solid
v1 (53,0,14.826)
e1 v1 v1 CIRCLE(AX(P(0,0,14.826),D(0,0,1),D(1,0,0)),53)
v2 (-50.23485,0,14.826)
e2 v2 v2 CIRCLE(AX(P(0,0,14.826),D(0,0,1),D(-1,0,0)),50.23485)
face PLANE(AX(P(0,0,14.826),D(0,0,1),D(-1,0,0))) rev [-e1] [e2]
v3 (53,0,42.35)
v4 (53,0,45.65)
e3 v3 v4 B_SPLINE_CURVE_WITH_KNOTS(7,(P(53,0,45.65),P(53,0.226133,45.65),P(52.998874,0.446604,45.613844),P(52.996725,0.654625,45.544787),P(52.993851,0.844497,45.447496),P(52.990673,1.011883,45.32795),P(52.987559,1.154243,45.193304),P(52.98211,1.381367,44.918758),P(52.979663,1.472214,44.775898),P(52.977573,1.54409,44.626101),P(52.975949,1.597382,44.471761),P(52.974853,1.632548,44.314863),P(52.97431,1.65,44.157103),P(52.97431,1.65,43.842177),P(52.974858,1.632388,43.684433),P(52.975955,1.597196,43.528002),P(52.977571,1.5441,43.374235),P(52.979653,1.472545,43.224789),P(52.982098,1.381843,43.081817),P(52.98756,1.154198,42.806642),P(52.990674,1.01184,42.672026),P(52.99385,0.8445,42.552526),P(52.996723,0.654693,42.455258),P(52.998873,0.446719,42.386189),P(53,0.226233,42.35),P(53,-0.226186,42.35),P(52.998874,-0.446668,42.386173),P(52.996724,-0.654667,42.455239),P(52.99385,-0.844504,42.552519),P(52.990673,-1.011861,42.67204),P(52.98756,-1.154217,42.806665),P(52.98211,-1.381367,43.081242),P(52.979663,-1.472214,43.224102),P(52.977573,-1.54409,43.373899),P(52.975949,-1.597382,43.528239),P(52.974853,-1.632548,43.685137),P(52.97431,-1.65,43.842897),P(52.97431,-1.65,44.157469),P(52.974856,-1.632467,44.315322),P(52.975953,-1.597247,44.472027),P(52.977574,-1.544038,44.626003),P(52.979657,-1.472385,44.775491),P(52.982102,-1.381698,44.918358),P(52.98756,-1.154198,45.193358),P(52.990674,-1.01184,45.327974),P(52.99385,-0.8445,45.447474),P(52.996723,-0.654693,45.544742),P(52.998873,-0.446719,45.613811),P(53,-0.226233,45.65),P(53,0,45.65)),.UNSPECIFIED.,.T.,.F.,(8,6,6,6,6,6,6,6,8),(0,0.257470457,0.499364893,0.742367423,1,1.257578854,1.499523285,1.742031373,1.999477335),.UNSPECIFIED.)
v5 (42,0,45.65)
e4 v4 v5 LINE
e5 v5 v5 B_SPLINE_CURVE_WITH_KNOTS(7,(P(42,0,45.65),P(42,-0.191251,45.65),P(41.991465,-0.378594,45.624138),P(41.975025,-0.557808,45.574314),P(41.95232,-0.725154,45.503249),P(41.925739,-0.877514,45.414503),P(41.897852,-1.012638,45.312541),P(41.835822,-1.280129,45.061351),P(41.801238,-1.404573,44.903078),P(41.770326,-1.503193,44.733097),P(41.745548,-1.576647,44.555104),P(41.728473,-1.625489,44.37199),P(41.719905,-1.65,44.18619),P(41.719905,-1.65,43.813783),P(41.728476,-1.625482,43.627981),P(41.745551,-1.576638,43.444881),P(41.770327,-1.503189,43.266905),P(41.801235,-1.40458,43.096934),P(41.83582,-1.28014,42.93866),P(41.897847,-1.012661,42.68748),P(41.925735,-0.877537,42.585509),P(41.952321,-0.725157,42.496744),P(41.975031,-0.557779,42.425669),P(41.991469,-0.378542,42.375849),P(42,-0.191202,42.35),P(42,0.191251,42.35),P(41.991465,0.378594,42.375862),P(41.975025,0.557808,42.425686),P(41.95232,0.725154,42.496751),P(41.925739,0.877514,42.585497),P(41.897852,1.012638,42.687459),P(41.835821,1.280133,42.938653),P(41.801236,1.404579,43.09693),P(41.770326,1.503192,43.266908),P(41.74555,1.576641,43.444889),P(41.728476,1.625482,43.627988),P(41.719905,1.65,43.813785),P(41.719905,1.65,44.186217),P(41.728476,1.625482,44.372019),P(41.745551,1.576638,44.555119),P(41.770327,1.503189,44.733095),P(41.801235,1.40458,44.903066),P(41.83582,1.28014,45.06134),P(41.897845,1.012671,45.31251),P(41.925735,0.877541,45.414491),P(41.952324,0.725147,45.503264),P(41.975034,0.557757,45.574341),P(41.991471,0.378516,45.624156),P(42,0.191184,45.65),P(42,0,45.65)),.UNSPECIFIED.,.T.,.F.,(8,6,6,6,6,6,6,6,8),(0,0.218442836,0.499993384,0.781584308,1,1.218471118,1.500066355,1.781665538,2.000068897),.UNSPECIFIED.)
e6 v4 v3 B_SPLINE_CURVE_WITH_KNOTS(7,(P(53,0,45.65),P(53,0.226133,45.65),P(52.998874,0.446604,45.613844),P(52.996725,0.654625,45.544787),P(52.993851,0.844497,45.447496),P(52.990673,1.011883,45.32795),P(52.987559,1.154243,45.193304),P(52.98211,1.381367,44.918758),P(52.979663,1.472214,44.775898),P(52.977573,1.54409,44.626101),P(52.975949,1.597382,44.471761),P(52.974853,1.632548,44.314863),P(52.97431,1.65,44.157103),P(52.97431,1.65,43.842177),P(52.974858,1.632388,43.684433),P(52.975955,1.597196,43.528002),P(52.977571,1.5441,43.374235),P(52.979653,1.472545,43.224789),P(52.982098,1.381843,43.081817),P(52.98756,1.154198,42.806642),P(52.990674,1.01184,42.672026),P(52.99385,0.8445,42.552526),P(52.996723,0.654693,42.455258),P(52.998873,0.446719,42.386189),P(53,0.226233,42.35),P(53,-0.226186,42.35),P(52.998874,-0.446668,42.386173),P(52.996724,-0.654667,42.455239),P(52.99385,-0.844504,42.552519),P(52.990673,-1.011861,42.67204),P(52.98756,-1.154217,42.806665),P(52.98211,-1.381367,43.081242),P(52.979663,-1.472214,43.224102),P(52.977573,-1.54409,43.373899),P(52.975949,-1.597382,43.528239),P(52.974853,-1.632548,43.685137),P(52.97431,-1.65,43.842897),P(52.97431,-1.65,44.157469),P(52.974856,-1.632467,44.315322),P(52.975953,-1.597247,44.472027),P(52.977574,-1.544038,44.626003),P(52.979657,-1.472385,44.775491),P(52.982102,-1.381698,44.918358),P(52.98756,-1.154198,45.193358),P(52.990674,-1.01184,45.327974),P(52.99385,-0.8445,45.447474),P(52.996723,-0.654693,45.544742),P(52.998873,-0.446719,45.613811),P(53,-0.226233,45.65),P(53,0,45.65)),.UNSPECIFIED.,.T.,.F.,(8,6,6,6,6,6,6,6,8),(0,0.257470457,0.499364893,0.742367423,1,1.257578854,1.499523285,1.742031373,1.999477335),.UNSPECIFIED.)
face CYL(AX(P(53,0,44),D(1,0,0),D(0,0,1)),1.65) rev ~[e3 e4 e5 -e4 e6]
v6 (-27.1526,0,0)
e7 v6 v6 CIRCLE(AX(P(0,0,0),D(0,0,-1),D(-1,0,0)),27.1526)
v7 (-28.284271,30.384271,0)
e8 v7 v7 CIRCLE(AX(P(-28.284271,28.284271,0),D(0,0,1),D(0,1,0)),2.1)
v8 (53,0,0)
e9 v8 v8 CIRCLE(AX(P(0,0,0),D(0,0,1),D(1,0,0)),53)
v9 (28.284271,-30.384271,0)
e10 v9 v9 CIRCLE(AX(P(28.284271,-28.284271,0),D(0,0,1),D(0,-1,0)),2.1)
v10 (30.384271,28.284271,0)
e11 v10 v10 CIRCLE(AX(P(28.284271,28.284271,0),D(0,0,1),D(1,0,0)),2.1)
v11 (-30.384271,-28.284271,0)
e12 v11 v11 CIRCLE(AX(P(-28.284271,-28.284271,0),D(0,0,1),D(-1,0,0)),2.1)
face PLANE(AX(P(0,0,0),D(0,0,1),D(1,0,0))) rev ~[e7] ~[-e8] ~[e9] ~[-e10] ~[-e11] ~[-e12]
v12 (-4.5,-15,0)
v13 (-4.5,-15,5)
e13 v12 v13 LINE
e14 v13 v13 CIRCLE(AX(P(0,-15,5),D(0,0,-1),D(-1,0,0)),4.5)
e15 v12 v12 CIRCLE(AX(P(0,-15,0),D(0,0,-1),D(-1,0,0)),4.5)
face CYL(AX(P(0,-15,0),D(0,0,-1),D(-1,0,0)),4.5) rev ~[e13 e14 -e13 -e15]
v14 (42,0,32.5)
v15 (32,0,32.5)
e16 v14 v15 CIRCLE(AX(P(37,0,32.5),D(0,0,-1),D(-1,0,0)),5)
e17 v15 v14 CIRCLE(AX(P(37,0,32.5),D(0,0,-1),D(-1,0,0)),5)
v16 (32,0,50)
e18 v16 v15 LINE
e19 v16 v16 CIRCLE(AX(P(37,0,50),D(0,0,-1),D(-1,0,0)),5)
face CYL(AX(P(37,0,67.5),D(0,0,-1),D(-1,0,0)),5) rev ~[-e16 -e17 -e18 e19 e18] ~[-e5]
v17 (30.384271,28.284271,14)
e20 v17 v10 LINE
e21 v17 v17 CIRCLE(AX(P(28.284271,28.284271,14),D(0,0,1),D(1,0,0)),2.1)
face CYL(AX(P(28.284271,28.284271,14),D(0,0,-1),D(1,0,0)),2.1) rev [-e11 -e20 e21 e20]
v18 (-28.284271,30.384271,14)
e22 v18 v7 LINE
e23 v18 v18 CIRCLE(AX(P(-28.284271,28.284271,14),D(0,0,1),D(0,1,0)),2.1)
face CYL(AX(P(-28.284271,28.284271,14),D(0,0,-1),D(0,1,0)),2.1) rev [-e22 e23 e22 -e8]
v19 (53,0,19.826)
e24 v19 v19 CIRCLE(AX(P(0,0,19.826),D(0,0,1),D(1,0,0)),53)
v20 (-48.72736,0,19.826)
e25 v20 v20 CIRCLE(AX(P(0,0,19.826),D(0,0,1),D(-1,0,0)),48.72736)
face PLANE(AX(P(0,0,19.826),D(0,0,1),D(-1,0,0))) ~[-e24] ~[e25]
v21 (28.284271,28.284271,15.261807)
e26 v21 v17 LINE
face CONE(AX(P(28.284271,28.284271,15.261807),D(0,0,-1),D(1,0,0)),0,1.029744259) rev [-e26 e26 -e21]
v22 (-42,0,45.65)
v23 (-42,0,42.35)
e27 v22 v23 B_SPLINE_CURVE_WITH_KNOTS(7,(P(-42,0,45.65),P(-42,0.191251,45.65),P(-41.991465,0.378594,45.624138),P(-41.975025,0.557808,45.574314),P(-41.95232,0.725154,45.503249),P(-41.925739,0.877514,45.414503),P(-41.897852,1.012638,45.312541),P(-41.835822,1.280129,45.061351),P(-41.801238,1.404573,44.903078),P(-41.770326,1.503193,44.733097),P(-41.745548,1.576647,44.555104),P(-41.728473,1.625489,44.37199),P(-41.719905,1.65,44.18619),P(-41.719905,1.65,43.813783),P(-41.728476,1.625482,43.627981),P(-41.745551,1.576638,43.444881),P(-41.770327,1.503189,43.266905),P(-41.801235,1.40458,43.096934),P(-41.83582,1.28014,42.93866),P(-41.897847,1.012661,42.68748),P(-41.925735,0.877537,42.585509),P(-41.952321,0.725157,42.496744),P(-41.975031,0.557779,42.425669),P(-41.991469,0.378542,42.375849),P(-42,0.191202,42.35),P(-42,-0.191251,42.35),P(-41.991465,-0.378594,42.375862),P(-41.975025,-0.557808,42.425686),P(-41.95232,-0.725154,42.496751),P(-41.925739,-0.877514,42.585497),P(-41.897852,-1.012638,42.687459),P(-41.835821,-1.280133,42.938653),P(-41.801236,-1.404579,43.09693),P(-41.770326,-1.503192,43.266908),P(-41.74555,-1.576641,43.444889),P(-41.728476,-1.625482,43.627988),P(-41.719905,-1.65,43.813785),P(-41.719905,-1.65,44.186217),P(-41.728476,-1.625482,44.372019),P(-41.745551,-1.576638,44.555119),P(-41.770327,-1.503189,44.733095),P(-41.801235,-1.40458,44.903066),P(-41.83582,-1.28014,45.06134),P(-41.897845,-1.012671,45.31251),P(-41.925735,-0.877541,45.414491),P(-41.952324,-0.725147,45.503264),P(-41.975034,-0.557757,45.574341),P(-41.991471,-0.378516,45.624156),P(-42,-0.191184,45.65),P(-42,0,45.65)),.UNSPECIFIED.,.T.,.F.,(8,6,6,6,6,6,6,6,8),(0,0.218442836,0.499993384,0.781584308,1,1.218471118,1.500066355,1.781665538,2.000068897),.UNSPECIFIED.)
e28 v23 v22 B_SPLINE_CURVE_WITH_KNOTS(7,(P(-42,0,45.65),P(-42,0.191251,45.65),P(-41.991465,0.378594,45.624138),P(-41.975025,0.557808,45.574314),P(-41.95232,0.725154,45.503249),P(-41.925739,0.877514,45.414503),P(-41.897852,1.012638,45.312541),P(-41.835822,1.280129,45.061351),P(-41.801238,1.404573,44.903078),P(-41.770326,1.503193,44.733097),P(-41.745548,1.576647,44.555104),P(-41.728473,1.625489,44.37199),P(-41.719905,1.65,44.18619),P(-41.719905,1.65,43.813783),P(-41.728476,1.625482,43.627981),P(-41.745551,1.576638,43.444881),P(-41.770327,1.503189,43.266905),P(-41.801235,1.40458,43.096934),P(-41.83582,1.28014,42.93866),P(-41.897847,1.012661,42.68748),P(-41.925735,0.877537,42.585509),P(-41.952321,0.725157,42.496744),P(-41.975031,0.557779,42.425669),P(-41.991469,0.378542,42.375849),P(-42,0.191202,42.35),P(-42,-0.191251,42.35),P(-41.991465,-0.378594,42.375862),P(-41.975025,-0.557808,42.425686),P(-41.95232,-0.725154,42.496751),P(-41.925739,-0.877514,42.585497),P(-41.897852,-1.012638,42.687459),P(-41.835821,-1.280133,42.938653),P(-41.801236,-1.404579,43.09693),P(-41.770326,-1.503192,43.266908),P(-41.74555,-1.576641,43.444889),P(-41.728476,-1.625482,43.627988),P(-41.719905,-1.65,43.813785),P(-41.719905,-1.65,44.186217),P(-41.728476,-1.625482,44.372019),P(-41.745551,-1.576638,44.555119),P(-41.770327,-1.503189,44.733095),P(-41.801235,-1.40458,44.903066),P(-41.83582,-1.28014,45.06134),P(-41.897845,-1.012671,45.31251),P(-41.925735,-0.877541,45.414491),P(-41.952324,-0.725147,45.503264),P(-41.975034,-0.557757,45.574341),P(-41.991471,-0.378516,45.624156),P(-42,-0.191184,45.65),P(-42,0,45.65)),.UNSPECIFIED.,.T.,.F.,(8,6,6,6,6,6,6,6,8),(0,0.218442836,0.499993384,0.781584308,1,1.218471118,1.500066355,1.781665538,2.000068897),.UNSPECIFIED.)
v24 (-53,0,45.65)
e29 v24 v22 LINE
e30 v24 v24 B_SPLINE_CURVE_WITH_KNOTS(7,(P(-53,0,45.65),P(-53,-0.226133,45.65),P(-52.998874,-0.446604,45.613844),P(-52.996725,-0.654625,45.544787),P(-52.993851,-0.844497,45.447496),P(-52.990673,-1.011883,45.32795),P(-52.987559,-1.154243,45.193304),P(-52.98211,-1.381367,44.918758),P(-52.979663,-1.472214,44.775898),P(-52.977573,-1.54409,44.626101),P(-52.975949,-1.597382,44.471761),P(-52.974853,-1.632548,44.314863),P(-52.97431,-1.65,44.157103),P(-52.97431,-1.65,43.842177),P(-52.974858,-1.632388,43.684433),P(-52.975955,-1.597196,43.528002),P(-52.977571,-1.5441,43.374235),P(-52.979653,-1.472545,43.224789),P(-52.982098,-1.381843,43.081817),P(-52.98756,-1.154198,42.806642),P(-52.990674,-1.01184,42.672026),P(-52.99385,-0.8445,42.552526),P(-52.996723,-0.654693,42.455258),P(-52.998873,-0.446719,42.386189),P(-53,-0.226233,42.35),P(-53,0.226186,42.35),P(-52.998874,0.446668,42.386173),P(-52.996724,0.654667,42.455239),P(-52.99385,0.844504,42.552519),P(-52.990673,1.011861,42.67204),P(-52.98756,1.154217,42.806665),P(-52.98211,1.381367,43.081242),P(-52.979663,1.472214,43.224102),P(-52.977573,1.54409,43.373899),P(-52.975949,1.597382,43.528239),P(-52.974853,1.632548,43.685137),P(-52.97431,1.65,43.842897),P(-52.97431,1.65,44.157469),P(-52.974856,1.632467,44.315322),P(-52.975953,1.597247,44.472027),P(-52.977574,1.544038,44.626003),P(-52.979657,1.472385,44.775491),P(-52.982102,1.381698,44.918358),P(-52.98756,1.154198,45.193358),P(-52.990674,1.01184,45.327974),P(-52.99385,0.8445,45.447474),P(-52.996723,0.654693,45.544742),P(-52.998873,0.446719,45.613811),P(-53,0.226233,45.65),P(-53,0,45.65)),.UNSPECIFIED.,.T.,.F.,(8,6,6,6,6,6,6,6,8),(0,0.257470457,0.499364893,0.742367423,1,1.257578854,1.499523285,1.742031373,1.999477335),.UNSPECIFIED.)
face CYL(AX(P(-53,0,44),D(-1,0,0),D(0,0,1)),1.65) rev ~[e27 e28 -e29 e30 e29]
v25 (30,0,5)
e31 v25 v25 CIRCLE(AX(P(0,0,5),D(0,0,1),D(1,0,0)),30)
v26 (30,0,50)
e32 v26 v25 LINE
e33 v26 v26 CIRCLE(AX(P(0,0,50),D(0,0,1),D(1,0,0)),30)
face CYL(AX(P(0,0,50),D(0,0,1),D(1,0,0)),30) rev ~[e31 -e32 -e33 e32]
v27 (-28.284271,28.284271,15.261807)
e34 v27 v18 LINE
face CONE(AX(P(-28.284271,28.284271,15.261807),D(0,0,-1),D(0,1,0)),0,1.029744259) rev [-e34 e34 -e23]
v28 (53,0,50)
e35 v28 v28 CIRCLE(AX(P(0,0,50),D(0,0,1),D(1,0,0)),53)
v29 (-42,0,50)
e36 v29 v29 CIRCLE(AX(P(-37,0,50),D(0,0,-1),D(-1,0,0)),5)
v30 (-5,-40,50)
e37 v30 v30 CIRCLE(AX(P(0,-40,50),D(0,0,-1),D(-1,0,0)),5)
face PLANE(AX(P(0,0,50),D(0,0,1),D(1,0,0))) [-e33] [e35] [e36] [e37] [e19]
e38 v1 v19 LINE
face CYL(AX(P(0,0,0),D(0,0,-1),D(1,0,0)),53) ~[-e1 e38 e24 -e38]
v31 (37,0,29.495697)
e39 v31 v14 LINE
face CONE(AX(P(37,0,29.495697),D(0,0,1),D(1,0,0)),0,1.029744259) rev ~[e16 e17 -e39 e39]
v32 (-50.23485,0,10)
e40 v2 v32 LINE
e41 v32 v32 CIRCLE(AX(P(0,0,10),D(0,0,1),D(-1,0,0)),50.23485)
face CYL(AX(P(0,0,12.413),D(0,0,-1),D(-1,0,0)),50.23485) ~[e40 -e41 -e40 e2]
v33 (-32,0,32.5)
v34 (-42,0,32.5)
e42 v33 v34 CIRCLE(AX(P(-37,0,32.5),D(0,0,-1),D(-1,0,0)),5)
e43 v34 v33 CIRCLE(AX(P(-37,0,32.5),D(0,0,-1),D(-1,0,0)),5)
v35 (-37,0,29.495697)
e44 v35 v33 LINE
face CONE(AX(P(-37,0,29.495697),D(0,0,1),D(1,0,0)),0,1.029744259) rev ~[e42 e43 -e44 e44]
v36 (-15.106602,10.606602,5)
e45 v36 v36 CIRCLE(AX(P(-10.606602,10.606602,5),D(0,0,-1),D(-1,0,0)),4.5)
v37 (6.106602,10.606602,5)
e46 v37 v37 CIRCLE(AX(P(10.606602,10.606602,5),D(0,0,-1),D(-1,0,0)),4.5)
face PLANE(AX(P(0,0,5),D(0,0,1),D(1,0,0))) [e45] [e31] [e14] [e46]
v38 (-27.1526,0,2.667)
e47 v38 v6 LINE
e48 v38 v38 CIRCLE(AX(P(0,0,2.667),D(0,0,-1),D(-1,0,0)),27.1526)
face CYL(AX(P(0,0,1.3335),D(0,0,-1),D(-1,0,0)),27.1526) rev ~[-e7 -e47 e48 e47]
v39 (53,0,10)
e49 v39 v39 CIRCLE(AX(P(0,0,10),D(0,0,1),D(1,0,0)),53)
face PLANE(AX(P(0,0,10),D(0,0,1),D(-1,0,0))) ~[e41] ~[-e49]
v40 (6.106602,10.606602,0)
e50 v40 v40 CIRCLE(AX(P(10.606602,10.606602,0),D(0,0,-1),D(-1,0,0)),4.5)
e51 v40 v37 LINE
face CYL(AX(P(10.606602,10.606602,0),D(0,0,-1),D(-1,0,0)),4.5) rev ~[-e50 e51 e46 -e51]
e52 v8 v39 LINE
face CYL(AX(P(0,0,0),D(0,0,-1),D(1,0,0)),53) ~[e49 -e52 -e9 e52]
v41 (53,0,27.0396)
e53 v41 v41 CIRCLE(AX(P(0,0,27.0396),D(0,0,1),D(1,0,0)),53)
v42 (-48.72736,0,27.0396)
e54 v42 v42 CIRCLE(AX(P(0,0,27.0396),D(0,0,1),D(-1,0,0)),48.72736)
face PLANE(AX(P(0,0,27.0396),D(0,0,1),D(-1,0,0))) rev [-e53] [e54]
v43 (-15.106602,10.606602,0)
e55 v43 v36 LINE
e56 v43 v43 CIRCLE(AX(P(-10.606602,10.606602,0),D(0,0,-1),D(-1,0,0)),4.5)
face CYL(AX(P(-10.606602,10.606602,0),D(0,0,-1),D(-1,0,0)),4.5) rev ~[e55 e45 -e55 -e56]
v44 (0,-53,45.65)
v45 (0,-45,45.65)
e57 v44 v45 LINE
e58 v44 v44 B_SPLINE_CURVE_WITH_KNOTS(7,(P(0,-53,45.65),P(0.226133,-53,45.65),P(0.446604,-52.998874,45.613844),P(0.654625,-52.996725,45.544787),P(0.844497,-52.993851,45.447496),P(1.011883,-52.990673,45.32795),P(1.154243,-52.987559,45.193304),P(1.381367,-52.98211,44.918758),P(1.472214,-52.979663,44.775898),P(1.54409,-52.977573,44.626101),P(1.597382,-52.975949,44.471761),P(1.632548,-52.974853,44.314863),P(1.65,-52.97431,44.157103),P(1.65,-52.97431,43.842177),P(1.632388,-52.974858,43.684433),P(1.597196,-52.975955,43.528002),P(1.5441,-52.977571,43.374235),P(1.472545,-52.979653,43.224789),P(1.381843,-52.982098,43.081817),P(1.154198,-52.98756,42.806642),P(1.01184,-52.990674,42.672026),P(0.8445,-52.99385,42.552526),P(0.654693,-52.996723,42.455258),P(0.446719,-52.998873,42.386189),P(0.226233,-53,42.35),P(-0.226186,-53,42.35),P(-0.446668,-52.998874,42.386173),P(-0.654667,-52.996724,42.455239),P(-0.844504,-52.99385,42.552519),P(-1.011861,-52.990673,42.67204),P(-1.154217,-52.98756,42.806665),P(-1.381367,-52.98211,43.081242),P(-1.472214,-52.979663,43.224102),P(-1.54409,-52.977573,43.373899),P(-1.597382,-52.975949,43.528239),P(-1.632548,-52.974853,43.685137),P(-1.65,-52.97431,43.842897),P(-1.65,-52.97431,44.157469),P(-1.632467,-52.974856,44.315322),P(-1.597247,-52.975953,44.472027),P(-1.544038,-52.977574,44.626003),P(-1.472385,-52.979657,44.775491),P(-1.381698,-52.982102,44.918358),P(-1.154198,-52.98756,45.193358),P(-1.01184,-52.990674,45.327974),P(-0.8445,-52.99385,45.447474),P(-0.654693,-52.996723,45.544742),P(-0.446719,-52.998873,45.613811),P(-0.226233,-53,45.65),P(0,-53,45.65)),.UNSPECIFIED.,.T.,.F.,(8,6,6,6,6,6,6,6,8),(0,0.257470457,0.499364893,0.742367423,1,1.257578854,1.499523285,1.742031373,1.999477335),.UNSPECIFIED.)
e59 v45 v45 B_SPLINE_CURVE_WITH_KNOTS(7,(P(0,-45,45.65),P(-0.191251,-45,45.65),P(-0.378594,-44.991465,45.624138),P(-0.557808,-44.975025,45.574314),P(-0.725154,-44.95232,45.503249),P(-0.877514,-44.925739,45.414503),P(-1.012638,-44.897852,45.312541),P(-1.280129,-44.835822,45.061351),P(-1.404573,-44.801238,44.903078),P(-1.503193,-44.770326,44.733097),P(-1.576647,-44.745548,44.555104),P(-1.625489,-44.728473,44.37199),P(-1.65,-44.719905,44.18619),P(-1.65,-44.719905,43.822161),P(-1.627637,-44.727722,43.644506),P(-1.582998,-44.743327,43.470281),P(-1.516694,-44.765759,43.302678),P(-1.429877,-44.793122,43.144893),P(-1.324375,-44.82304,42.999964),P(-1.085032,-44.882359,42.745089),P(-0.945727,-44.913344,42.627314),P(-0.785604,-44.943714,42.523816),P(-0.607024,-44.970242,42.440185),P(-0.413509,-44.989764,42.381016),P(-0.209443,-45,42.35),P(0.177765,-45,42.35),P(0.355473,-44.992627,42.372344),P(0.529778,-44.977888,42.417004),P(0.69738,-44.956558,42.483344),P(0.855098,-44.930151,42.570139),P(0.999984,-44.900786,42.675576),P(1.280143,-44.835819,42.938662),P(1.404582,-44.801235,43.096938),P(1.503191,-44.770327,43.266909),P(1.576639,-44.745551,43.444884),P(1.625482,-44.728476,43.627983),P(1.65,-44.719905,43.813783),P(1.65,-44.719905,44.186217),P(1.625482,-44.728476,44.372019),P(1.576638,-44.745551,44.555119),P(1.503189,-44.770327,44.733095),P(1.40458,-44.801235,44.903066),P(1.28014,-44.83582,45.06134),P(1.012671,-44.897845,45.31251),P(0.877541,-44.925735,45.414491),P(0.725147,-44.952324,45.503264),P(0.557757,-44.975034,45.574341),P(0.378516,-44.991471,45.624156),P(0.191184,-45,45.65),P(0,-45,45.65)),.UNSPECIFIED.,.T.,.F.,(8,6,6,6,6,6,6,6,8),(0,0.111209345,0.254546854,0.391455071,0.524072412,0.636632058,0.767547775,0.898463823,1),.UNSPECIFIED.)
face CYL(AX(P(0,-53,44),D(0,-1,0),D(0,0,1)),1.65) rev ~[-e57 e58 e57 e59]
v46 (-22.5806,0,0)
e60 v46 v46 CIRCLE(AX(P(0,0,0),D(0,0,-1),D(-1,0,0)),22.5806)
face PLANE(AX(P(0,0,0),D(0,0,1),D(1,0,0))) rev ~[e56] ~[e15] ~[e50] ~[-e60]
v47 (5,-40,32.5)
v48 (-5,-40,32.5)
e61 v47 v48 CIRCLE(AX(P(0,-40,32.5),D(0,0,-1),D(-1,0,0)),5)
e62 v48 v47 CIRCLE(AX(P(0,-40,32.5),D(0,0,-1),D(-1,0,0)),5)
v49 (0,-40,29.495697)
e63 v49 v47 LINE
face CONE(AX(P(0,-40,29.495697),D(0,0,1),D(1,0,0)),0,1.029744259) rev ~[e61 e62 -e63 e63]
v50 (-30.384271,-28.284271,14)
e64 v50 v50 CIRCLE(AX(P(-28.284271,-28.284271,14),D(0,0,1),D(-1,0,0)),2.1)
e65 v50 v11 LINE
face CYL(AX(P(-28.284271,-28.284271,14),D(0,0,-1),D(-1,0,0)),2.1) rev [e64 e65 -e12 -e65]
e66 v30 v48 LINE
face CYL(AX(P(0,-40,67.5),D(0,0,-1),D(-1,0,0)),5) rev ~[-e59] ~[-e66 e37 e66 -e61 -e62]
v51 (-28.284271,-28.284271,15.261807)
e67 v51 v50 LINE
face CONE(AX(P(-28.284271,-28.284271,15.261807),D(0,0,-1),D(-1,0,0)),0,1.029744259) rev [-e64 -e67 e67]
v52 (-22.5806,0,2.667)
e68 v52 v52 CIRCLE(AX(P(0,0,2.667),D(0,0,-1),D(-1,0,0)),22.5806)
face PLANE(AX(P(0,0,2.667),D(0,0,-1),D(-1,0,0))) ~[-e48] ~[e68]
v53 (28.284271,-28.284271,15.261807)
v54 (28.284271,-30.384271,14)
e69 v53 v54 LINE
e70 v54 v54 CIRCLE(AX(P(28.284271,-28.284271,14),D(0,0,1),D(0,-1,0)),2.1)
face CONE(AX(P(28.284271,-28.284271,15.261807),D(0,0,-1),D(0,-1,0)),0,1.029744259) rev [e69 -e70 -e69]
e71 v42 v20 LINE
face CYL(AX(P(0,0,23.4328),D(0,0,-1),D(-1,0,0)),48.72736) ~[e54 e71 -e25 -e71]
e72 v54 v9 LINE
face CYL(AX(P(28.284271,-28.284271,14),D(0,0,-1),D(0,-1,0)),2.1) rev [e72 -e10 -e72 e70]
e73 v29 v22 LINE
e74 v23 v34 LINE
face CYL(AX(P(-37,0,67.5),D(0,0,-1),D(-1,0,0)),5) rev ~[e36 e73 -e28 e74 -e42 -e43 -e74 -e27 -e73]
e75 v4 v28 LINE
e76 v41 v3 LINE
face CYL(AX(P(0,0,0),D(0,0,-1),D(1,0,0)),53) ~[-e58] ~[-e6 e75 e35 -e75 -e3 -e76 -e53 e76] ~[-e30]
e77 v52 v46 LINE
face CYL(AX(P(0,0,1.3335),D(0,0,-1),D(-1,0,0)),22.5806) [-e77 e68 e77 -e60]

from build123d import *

# Parameters (mm, degrees)
SKETCH1_R                  = 53
BOSS_EXTRUDE1_DEPTH        = 50
F_10_0MM_DOWEL_HOLE1_D     = 10
F_10_0MM_DOWEL_HOLE1_DEPTH = 17.5
F_10_0MM_DOWEL_HOLE1_TIP   = 3.004303095
M4_TAPPED_HOLE1_REACH      = 130.627
M4_TAPPED_HOLE1_BORE_R     = 1.65
CIRPATTERN1_COUNT          = 3
CIRPATTERN1_ANGLE          = 180
SKETCH11_R                 = 30
CUT_EXTRUDE2_DEPTH         = 45
SKETCH12_W                 = 4.826
SKETCH12_H                 = 2.76515
SKETCH12_W_2               = 7.2136
SKETCH12_H_2               = 4.27264
SKETCH14_W                 = 2.667
SKETCH14_H                 = 4.572
SKETCH15_R                 = 4.5
CUT_EXTRUDE3_DEPTH         = 10
CIRPATTERN2_COUNT          = 4


with BuildPart() as part:
    # Sketch1 → Boss-Extrude1 (new body)
    with BuildSketch(Plane.XY):
        Circle(SKETCH1_R)
    extrude(amount=BOSS_EXTRUDE1_DEPTH)

    # Ø10.0mm Dowel Hole1
    with Locations(Plane.XY.offset(50)):
        with Locations((-37, 0), (37, 0), (0, -40)):
            Hole(F_10_0MM_DOWEL_HOLE1_D / 2, depth=F_10_0MM_DOWEL_HOLE1_DEPTH)
            with Locations((0, 0, -(F_10_0MM_DOWEL_HOLE1_DEPTH + F_10_0MM_DOWEL_HOLE1_TIP / 2))):  # 118° drill point
                Cone(0, F_10_0MM_DOWEL_HOLE1_D / 2, F_10_0MM_DOWEL_HOLE1_TIP, mode=Mode.SUBTRACT)

    # M4 Tapped Hole1 bore → M4 Tapped Hole1 (cut, up to next)
    with BuildSketch(Plane.ZY.offset(53), mode=Mode.PRIVATE) as m4_tapped_hole1_sk1:
        with Locations((44, 0)):
            Circle(M4_TAPPED_HOLE1_BORE_R)
    m4_tapped_hole1_tool1 = extrude(m4_tapped_hole1_sk1.sketch, amount=-M4_TAPPED_HOLE1_REACH, mode=Mode.PRIVATE) & part.part
    m4_tapped_hole1 = m4_tapped_hole1_tool1.solids().sort_by_distance((-53, 0, 44))[0]
    add(m4_tapped_hole1, mode=Mode.SUBTRACT)

    # CirPattern1: M4 Tapped Hole1 ×3 about axis
    cirpattern1_axis = Axis((0, 0, 50), (0, 0, 1))
    for i in range(1, CIRPATTERN1_COUNT):
        add(m4_tapped_hole1.rotate(cirpattern1_axis, i * CIRPATTERN1_ANGLE / (CIRPATTERN1_COUNT - 1)), mode=Mode.SUBTRACT)

    # Sketch11 → Cut-Extrude2 (cut)
    with BuildSketch(Plane.XY.offset(50)):
        Circle(SKETCH11_R)
    extrude(amount=-CUT_EXTRUDE2_DEPTH, mode=Mode.SUBTRACT)

    # Sketch12 → Cut-Revolve1 (revolve, cut)
    with BuildSketch(Plane(origin=(0, 0, 0), x_dir=(0, 0, -1), z_dir=(1, 0, 0)), mode=Mode.PRIVATE) as cut_revolve1_sk:
        with Locations((-12.413, 51.617425)):
            Rectangle(SKETCH12_W, SKETCH12_H)
        with Locations((-23.4328, 50.86368)):
            Rectangle(SKETCH12_W_2, SKETCH12_H_2)
    revolve(cut_revolve1_sk.sketch.rotate(Axis((0, 0, 0), (0, 0, 1)), 90), axis=Axis((0, 0, 0), (0, 0, 1)), mode=Mode.SUBTRACT)

    # Sketch14 → Cut-Revolve2 (revolve, cut)
    with BuildSketch(Plane(origin=(0, 0, 0), x_dir=(0, 0, -1), z_dir=(1, 0, 0)), mode=Mode.PRIVATE) as cut_revolve2_sk:
        with Locations((-1.3335, 24.8666)):
            Rectangle(SKETCH14_W, SKETCH14_H)
    revolve(cut_revolve2_sk.sketch.rotate(Axis((0, 0, 0), (0, 0, -1)), 270), axis=Axis((0, 0, 0), (0, 0, -1)), mode=Mode.SUBTRACT)

    # Sketch15 → Cut-Extrude3 (cut)
    with BuildSketch(Plane(origin=(0, 0, 0), x_dir=(-1, 0, 0), z_dir=(0, 0, -1))):
        with Locations((-10.606601718, 10.606601718)):
            Circle(SKETCH15_R)
        with Locations((0, -15)):
            Circle(SKETCH15_R)
        with Locations((10.606601718, 10.606601718)):
            Circle(SKETCH15_R)
    extrude(amount=-CUT_EXTRUDE3_DEPTH, mode=Mode.SUBTRACT)

    # Sketch17 → M5 Tapped Hole1 (revolve, cut)
    with BuildSketch(Plane(origin=(-28.284271247, 28.284271247, 0), x_dir=(0, 1, 0), z_dir=(1, 0, 0))):
        Polygon((0, 0), (0, 15.2618073), (2.1, 14), (2.1, 0), align=None)
    m5_tapped_hole1 = revolve(axis=Axis((-28.284271247, 28.284271247, -6.35), (0, 0, 1)), mode=Mode.SUBTRACT)

    # CirPattern2: M5 Tapped Hole1 ×4 about axis
    cirpattern2_axis = Axis((0, 0, 0), (0, 0, 1))
    for i in range(1, CIRPATTERN2_COUNT):
        add(m5_tapped_hole1.rotate(cirpattern2_axis, i * 360 / CIRPATTERN2_COUNT), mode=Mode.SUBTRACT)


solid = part.part
